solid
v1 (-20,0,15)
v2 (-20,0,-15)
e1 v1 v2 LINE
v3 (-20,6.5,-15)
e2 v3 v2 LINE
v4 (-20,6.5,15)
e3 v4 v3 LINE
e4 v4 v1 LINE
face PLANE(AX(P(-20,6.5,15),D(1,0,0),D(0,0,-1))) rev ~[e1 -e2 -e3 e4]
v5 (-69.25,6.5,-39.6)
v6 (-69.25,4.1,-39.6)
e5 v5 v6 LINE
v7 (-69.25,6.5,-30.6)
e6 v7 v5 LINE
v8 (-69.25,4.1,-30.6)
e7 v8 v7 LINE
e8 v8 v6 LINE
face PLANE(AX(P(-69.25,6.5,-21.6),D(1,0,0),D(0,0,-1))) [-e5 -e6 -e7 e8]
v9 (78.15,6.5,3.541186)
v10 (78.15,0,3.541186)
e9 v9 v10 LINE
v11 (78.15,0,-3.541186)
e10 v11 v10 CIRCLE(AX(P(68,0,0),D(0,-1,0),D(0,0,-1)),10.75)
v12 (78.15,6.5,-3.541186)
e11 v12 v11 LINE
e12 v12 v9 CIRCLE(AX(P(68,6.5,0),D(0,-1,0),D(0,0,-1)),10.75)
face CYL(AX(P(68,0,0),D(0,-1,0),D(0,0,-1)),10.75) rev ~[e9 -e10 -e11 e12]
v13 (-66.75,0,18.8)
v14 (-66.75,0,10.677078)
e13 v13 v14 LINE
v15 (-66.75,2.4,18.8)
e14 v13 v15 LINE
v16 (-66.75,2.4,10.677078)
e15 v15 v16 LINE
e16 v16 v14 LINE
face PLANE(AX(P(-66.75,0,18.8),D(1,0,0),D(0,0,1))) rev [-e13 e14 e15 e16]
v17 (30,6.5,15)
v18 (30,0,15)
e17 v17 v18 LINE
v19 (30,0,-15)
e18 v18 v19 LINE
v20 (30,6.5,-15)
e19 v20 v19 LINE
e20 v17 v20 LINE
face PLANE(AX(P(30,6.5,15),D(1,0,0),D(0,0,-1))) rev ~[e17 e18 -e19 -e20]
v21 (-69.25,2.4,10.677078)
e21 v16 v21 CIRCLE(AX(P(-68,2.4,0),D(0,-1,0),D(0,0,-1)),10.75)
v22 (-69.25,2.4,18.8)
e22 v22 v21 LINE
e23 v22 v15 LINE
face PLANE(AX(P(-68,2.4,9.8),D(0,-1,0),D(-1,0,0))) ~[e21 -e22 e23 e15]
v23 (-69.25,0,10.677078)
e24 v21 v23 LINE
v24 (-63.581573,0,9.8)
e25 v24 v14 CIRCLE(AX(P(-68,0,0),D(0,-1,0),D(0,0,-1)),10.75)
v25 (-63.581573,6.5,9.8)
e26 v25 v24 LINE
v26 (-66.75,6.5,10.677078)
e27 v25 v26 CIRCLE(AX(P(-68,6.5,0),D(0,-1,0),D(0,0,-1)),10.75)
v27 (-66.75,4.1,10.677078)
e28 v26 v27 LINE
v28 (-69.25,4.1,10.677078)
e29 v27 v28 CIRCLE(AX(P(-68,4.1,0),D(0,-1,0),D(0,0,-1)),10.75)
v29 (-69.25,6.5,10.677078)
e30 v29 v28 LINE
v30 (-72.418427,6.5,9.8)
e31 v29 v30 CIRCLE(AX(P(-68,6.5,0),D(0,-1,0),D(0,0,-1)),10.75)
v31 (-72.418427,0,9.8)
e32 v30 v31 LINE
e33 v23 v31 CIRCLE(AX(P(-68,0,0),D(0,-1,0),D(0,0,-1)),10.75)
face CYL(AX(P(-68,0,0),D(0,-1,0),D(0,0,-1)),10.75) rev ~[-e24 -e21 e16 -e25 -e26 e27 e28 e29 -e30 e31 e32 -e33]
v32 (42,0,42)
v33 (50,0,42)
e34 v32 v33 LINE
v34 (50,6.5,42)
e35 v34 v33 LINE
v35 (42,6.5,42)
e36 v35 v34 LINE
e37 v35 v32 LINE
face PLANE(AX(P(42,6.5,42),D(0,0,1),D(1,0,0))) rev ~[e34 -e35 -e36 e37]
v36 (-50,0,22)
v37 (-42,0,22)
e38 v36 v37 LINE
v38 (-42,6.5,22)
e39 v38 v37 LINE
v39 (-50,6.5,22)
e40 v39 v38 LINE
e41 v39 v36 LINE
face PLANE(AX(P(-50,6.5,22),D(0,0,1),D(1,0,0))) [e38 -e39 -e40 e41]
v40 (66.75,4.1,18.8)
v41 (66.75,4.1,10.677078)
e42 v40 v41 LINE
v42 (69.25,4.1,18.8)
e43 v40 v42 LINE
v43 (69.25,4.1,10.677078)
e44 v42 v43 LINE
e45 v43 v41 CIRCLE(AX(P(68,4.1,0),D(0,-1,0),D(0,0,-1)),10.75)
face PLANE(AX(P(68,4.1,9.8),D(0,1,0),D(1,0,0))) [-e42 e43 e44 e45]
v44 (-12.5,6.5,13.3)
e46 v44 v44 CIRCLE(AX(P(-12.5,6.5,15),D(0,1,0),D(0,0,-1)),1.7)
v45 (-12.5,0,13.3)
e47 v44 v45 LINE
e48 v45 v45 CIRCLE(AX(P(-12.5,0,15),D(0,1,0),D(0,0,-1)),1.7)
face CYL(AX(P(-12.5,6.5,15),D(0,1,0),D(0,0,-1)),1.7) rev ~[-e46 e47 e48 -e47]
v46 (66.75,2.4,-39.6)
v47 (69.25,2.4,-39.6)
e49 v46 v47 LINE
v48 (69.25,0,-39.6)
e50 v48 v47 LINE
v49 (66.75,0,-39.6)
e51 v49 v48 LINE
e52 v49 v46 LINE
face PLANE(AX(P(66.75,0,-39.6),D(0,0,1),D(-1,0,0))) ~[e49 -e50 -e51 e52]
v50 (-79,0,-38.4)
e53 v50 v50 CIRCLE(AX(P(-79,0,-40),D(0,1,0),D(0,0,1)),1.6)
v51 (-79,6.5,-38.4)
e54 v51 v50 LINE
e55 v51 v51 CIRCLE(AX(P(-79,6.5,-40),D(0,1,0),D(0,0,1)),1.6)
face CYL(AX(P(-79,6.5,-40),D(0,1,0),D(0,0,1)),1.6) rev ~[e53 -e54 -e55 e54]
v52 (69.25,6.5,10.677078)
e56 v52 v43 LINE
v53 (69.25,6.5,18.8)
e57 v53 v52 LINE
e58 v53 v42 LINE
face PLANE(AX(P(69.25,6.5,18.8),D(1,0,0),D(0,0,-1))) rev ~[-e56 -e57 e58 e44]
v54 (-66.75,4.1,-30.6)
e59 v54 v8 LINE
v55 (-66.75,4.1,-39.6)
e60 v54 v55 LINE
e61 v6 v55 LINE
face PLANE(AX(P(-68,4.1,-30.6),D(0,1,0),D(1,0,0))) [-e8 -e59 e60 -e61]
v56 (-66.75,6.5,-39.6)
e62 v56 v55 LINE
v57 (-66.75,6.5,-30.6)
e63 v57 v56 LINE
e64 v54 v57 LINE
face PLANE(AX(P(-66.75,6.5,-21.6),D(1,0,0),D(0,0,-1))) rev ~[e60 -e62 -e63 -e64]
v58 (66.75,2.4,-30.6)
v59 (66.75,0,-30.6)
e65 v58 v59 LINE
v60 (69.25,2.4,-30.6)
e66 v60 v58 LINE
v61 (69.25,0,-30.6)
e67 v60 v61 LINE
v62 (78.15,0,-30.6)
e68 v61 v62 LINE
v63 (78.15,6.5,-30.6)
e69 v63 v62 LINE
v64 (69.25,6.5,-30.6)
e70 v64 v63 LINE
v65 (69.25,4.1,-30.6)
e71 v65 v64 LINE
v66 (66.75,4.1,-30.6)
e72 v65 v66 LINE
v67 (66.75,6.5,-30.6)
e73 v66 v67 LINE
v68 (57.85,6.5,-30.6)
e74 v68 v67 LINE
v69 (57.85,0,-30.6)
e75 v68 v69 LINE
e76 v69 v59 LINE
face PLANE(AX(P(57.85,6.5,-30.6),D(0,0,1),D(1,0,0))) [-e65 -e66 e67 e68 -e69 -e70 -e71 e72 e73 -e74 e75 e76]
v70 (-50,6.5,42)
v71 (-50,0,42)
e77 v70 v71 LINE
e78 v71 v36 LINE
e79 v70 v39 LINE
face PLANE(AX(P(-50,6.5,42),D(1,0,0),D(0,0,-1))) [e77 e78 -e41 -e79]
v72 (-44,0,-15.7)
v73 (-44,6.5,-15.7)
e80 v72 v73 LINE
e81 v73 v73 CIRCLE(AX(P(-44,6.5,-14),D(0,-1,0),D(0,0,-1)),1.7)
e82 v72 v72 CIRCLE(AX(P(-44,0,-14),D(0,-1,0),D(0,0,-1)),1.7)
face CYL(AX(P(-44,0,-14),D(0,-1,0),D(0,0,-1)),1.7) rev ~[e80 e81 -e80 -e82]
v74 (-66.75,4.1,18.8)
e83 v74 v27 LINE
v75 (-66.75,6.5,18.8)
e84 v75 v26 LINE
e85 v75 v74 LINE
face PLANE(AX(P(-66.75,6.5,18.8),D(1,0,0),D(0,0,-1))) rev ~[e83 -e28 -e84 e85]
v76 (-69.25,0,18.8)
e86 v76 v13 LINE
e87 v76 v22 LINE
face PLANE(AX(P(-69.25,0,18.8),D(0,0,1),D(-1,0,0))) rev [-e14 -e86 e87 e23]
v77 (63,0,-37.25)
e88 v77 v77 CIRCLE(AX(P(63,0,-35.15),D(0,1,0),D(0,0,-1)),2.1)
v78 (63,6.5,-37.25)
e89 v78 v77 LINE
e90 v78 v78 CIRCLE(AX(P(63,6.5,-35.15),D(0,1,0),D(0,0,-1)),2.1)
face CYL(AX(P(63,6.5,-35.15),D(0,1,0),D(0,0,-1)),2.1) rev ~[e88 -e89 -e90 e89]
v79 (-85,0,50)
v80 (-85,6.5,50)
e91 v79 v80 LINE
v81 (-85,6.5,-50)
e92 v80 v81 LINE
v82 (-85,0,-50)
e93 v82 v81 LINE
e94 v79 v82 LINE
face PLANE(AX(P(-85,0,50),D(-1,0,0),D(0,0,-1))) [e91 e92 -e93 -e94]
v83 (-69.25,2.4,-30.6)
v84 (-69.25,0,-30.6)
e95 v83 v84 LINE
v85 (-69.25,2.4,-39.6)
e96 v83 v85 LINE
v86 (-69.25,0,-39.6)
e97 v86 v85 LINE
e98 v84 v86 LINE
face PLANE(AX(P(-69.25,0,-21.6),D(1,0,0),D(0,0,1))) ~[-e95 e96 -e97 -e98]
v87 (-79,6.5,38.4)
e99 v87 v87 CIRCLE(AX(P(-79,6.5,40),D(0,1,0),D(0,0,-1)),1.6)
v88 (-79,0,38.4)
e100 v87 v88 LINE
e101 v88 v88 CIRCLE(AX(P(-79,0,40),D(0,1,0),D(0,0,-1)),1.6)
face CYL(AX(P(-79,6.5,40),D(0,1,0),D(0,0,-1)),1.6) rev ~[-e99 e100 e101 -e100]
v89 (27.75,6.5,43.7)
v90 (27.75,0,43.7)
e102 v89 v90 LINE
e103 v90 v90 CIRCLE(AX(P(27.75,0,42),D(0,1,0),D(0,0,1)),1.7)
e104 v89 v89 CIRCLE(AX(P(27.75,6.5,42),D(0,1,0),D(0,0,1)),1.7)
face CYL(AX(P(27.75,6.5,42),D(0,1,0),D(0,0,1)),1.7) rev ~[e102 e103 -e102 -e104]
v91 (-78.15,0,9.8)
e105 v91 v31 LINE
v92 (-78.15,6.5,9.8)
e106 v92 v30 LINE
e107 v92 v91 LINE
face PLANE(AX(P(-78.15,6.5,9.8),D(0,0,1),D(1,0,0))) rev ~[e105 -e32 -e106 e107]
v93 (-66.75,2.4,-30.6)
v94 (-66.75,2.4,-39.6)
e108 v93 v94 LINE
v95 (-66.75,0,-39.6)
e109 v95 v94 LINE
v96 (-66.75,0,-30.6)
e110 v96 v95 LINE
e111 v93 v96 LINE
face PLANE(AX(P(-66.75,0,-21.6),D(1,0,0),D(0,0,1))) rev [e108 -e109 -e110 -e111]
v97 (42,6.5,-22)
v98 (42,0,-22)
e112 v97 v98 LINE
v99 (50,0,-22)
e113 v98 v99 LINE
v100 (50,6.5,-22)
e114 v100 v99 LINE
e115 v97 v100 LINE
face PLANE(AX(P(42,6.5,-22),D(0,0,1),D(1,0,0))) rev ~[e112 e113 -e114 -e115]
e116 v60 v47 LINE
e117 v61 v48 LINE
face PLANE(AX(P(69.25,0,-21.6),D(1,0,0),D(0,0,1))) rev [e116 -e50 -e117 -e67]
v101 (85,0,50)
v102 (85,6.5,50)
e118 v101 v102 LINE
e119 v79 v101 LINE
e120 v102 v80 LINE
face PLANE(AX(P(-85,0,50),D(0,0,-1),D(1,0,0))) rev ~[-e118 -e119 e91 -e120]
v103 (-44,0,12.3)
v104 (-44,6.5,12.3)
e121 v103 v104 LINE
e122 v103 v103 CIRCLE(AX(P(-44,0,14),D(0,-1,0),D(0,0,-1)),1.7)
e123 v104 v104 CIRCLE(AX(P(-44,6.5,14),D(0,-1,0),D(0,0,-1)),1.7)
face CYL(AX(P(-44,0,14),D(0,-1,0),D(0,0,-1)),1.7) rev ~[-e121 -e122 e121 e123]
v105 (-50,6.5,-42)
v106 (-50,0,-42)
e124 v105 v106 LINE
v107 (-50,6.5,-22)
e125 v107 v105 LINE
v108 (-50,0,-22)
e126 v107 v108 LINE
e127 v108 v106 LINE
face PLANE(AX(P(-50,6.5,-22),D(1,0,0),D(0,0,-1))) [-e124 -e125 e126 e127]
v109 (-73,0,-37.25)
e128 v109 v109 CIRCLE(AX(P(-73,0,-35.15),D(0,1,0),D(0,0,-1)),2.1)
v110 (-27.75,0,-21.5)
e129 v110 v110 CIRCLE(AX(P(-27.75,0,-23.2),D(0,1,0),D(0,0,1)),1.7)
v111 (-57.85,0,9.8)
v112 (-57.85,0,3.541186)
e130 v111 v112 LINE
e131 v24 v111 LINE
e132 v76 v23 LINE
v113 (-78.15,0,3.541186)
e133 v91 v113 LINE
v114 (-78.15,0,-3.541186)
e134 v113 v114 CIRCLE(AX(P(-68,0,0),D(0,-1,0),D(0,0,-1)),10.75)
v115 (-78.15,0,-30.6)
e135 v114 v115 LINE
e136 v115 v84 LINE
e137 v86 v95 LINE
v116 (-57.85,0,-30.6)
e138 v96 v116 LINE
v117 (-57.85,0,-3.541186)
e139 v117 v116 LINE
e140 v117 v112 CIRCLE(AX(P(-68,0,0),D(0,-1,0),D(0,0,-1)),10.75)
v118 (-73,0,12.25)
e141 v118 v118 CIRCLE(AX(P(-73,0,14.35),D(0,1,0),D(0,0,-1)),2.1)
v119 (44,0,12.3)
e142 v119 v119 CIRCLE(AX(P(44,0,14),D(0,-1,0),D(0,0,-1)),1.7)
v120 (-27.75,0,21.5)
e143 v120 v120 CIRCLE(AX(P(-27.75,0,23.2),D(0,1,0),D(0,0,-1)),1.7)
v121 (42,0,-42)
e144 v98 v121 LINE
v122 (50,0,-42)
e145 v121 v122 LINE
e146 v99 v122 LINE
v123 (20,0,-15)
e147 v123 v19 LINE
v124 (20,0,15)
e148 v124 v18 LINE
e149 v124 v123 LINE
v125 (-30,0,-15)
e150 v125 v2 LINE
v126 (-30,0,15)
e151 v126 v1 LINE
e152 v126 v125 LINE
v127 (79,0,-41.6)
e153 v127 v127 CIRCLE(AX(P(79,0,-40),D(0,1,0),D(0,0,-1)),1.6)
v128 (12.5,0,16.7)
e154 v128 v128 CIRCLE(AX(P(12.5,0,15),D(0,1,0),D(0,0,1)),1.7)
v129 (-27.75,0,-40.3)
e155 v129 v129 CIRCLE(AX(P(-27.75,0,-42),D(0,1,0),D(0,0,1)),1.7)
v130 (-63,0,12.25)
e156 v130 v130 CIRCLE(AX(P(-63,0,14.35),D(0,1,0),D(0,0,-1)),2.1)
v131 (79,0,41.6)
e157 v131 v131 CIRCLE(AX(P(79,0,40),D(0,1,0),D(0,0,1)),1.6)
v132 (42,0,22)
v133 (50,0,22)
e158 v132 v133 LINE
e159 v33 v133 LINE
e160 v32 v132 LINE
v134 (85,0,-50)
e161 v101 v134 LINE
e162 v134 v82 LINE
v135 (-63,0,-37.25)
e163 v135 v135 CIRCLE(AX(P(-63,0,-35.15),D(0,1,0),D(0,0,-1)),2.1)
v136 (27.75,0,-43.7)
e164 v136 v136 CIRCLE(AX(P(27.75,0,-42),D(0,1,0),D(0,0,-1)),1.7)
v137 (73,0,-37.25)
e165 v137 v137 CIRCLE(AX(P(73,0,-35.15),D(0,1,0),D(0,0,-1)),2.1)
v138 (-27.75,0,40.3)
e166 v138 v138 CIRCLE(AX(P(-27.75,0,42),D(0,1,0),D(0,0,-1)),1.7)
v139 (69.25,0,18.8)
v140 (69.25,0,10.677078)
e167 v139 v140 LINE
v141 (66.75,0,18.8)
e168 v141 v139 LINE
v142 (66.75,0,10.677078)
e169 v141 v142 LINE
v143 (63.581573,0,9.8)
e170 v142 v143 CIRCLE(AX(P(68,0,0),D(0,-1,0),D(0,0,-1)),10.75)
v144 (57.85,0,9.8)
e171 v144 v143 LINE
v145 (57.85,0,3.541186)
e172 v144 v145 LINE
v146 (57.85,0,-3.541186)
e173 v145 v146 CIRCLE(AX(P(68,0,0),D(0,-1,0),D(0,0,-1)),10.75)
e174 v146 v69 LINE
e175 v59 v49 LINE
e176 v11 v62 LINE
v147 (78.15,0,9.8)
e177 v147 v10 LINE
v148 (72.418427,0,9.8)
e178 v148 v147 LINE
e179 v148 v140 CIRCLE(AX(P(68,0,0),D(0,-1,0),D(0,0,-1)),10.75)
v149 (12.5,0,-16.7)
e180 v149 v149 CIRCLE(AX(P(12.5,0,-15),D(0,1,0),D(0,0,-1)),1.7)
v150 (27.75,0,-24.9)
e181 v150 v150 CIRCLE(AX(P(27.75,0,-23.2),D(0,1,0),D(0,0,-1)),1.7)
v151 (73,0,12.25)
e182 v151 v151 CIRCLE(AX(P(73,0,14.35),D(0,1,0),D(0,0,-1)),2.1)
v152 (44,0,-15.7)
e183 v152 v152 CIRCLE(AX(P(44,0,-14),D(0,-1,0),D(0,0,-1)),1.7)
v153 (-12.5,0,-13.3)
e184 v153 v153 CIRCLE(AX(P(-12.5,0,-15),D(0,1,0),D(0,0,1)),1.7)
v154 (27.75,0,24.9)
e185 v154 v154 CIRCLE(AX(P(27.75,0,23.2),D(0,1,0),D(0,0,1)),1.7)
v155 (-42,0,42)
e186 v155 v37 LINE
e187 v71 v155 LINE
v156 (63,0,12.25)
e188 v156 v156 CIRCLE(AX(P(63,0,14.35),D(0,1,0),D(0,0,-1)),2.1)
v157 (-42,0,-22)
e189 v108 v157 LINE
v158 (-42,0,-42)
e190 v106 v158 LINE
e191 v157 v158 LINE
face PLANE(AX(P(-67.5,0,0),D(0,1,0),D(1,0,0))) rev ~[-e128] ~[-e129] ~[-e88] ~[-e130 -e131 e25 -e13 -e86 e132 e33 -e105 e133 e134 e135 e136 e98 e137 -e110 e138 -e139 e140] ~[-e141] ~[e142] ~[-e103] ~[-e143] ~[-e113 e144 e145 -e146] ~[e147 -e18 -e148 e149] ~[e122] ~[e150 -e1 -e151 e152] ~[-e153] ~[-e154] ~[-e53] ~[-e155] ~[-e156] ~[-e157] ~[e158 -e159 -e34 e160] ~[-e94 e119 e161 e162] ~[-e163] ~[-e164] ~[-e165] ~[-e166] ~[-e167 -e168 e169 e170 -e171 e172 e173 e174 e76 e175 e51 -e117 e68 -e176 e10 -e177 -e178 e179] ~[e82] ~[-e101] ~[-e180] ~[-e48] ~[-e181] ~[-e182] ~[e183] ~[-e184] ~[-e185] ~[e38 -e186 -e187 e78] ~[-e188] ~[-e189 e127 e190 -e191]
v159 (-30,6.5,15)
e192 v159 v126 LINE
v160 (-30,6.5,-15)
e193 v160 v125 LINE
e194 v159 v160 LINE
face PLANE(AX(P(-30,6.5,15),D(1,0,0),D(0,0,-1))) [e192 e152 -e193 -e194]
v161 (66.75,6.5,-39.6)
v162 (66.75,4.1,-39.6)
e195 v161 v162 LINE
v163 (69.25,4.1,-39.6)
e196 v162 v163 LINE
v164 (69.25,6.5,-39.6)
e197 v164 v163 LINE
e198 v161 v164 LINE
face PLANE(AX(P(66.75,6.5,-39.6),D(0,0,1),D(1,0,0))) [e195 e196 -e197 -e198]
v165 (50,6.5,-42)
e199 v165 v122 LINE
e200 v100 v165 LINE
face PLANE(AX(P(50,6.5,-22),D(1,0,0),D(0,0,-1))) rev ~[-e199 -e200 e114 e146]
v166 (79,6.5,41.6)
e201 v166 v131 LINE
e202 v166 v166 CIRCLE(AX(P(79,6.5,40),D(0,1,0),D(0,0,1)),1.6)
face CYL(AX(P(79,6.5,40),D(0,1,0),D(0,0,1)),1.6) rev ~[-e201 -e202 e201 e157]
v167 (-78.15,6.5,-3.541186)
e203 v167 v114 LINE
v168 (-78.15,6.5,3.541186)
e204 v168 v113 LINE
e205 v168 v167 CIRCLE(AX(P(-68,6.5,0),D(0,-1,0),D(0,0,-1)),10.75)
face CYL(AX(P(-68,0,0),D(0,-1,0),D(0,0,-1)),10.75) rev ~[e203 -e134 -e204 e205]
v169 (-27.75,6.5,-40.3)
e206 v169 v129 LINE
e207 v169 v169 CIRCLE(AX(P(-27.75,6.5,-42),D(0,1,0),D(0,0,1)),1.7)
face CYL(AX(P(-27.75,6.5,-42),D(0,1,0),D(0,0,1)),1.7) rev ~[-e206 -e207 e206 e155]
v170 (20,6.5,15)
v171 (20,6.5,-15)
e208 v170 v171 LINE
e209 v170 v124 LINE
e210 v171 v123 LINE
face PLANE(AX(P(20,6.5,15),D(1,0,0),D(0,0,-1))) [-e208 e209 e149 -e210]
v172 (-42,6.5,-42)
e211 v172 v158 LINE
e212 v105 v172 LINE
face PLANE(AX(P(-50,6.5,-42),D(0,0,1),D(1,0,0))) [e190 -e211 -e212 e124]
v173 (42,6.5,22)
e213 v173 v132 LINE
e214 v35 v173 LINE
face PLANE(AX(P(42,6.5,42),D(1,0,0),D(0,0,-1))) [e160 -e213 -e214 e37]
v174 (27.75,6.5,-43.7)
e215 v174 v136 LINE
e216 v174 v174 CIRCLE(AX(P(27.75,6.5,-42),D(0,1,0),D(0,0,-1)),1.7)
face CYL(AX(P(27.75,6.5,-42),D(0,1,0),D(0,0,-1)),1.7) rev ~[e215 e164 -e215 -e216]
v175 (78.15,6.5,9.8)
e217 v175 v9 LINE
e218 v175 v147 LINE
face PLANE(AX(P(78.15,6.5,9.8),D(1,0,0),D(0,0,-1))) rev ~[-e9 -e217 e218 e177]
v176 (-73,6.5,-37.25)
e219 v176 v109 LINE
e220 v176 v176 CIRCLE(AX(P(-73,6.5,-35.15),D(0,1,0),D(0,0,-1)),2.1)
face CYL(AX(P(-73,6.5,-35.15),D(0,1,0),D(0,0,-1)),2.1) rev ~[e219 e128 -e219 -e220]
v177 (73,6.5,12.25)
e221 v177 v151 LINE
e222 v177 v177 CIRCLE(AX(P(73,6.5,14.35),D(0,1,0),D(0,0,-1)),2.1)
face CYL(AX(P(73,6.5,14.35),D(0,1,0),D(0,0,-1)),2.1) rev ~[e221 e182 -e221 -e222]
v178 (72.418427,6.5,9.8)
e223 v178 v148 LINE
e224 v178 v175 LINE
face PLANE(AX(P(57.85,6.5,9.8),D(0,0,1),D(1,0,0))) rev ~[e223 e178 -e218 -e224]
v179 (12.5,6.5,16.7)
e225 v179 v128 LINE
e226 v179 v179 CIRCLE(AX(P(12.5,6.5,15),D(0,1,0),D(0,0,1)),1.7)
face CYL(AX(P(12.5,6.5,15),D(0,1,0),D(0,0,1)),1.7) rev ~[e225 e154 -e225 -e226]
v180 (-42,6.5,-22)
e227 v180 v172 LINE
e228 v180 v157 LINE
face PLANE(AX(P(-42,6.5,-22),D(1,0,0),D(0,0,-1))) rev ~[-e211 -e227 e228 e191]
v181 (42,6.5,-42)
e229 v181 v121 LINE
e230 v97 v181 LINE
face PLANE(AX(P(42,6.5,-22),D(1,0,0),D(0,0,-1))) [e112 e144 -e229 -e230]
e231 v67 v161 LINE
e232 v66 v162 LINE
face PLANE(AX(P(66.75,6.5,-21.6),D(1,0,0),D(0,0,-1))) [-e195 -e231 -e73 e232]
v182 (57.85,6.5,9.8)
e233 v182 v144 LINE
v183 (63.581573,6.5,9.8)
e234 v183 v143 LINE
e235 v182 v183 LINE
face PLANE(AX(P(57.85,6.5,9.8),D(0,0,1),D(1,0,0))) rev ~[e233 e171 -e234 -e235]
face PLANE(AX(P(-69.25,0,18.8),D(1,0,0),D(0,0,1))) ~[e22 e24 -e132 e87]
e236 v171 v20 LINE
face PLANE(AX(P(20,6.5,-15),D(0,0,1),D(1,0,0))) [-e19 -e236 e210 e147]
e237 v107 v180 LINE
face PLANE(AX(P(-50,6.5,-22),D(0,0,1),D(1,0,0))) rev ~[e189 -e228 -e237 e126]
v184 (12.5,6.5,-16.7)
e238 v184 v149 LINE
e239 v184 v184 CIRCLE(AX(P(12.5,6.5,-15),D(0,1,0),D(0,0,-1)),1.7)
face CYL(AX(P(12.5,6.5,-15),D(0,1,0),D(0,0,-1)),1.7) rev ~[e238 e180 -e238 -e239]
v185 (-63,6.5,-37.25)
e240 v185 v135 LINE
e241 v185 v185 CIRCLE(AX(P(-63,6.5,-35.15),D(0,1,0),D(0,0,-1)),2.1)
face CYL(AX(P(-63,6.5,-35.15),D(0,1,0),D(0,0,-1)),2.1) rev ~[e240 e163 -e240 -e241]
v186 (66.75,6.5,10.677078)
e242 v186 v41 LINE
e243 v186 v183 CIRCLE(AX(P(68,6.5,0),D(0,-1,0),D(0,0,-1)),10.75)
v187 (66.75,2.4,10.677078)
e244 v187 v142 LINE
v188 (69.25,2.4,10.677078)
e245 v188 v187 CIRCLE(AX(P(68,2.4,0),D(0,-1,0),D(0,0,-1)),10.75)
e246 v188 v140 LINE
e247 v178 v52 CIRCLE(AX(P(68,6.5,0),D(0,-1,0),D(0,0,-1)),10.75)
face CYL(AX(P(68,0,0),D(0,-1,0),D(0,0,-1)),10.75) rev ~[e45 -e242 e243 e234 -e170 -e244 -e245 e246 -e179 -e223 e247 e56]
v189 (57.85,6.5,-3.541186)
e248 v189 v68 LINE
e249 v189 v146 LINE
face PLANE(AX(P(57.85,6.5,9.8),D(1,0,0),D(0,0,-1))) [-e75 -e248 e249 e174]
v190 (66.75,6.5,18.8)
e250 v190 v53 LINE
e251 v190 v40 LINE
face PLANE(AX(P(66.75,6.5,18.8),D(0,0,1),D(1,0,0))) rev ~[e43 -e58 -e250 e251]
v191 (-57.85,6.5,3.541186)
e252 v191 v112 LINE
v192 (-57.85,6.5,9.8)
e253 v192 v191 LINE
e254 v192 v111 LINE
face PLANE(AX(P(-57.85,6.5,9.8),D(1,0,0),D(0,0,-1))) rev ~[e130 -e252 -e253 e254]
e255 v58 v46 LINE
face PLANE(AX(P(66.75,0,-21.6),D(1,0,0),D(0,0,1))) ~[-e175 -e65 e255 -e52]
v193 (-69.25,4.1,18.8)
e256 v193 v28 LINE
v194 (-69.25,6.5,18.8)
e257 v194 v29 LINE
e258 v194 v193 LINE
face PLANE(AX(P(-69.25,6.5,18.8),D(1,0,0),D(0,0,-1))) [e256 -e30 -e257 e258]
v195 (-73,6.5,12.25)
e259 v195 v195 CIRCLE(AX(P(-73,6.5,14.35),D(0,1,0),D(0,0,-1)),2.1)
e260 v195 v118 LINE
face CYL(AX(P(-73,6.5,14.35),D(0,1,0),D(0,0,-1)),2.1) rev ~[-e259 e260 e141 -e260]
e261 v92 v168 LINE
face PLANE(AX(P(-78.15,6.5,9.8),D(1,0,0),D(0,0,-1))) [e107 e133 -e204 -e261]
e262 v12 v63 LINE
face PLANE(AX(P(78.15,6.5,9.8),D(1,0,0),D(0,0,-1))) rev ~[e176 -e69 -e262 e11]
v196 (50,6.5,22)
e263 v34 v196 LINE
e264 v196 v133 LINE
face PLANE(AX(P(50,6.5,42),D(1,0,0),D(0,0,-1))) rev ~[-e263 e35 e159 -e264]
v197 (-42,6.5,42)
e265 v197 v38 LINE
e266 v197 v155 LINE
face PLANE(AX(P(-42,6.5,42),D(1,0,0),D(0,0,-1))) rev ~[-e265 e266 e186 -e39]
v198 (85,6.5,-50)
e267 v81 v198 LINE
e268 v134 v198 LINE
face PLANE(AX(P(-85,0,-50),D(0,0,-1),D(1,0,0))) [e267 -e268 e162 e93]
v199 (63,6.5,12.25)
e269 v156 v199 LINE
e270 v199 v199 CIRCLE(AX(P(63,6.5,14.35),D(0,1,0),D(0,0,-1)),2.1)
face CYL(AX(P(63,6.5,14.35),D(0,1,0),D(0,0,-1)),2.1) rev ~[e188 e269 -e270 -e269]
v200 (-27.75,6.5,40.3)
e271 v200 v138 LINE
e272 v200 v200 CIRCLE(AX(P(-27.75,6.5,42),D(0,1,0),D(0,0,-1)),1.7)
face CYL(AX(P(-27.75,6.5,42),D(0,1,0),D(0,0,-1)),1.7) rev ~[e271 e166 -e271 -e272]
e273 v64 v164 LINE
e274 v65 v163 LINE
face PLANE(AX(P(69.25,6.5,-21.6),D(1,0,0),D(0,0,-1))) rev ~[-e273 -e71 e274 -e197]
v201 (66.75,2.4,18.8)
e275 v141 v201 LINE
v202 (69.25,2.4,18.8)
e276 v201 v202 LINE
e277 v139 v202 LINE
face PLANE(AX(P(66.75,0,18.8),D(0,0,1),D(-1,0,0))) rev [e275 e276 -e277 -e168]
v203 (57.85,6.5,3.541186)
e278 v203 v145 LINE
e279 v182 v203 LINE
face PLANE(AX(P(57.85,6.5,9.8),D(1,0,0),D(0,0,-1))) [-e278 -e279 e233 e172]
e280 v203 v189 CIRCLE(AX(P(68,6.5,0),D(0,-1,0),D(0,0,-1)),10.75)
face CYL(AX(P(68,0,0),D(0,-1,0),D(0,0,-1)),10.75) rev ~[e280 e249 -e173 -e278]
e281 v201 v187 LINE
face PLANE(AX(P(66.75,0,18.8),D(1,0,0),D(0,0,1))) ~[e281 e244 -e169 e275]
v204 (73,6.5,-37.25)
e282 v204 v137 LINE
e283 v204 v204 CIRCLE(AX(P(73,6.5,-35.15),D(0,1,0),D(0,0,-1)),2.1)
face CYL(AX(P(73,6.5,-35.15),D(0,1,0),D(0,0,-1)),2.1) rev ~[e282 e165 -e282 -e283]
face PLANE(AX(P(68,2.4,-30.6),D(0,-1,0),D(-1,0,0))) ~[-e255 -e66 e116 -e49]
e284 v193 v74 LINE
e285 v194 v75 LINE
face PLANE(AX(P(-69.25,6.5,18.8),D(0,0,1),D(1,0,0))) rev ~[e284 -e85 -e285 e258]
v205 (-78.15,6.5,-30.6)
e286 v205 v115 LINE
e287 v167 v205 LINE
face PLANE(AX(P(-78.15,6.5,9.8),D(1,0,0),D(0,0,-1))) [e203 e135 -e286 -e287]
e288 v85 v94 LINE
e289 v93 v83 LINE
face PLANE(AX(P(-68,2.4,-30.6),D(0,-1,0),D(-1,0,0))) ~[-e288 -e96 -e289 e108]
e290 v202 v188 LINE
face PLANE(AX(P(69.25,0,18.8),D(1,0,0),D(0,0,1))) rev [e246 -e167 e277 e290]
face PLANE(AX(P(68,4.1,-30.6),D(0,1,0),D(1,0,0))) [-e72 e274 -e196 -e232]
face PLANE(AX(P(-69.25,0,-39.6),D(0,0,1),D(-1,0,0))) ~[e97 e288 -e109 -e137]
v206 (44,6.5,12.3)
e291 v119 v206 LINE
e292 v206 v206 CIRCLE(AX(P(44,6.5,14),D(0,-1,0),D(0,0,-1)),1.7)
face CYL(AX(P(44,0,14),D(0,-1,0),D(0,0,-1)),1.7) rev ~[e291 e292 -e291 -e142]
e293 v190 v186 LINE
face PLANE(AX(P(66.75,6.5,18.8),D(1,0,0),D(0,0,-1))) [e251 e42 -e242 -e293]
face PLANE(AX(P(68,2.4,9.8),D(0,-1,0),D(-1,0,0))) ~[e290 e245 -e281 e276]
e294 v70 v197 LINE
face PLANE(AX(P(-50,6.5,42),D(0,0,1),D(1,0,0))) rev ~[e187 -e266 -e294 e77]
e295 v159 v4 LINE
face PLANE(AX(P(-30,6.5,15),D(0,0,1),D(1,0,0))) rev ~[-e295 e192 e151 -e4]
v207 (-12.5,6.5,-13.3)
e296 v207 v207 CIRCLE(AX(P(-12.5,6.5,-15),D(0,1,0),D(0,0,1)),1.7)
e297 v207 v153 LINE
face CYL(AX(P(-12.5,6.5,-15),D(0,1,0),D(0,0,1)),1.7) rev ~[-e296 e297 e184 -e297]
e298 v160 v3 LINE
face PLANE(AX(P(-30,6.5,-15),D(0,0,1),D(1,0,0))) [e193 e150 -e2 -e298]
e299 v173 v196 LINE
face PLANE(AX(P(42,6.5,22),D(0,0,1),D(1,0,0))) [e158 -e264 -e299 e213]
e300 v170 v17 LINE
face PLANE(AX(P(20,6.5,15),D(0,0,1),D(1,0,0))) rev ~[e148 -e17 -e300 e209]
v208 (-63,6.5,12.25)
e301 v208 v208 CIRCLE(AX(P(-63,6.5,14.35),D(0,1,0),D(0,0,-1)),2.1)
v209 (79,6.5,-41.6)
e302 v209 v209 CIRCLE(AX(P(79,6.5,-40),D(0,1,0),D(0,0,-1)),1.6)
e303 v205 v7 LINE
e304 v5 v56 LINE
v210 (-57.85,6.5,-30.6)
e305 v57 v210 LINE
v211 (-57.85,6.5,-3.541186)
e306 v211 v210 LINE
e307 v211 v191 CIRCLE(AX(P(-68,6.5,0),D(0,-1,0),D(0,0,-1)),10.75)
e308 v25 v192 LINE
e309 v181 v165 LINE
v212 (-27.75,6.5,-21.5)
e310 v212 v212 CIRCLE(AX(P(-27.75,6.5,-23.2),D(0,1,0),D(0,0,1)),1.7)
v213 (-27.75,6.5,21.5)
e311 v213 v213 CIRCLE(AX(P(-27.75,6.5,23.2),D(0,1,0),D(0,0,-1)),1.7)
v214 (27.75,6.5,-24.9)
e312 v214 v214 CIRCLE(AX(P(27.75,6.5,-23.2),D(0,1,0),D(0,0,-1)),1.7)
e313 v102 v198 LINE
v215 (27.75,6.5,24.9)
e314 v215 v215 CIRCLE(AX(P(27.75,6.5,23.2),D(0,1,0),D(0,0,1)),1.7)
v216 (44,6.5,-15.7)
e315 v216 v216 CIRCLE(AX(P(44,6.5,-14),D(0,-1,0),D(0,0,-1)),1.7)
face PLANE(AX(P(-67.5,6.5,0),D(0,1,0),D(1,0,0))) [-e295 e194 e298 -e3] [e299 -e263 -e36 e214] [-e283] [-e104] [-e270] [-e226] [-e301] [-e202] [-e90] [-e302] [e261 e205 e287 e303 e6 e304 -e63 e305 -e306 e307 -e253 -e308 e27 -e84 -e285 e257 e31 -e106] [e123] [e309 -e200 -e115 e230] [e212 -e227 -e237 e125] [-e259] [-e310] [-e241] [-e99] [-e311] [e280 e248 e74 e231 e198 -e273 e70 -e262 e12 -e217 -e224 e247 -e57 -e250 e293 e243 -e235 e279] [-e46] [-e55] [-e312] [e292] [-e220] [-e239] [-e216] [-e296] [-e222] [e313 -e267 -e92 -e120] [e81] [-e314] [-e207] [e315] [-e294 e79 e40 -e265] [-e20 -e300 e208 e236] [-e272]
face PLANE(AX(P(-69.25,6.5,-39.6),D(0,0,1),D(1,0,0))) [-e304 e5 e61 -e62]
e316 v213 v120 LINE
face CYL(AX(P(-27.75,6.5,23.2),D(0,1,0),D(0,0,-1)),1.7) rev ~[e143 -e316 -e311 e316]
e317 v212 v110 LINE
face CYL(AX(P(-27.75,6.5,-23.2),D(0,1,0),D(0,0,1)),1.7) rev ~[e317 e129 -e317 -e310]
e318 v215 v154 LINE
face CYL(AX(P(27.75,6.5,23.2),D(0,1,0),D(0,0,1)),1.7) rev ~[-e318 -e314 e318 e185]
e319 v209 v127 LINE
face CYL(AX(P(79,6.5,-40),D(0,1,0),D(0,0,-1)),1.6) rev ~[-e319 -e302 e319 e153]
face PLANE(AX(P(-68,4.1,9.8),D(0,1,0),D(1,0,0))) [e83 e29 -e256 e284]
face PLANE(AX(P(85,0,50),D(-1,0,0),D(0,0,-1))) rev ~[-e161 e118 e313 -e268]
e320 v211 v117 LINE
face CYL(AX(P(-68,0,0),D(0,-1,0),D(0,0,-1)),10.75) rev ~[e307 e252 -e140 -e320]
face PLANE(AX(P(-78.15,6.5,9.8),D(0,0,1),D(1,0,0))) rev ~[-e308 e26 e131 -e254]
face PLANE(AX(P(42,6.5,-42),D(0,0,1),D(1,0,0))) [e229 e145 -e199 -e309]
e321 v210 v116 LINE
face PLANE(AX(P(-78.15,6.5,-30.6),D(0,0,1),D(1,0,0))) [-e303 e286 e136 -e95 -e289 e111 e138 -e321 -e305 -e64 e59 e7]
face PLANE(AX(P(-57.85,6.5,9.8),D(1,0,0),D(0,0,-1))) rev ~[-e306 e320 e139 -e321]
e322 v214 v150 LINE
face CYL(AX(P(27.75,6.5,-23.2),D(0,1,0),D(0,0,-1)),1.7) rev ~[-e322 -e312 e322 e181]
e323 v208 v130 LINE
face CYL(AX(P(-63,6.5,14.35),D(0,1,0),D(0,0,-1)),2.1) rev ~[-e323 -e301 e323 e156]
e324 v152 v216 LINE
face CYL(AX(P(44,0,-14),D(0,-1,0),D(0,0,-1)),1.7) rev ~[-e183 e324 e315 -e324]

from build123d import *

# Parameters (mm, degrees)
SKETCH_1_W           = 100
SKETCH_1_H           = 100
EXTRUDE_1_DEPTH      = 6.5
SKETCH_2_W           = 5
SKETCH_2_H           = 100
EXTRUDE_2_DEPTH      = 75
SKETCH_3_R           = 2.25
CUT_EXTRUDE_1_DEPTH  = 85
SKETCH_4_W           = 40
SKETCH_4_H           = 41.42
CUT_EXTRUDE_2_DEPTH  = 85
CHAMFER_1_SIZE       = 10
SKETCH_5_W           = 10
SKETCH_5_H           = 30
CUT_EXTRUDE_3_DEPTH  = 85
SKETCH_11_R          = 1.7
CUT_EXTRUDE_5_DEPTH  = 10
SKETCH_12_R          = 1.7
CUT_EXTRUDE_6_DEPTH  = 25
SKETCH_13_R          = 2.3
SKETCH_13_R_2        = 15
CUT_EXTRUDE_9_DEPTH  = 105
SKETCH_14_W          = 15
SKETCH_14_H          = 41.42
CUT_EXTRUDE_10_DEPTH = 83
SKETCH_15_W          = 38.97610678
SKETCH_15_H          = 41.42
CUT_EXTRUDE_11_DEPTH = 83
SKETCH_16_R          = 1.7
CUT_EXTRUDE_12_DEPTH = 83
SKETCH_17_R          = 2.15
CUT_EXTRUDE_13_DEPTH = 83
CHAMFER_2_SIZE       = 8
SKETCH_18_W          = 143.568344584
SKETCH_18_H          = 92.865991502
CUT_EXTRUDE_14_DEPTH = 55
SKETCH_19_W          = 35
SKETCH_19_H          = 100
EXTRUDE_3_DEPTH      = 6.5
SKETCH_21_R          = 10.75
CUT_EXTRUDE_16_DEPTH = 10
SKETCH_20_R          = 2.1
CUT_EXTRUDE_15_DEPTH = 7.5
SKETCH_23_W          = 20.3
SKETCH_23_H          = 40.4
CUT_EXTRUDE_17_DEPTH = 20
SKETCH_24_W          = 2.5
SKETCH_24_H          = 18
CUT_EXTRUDE_18_DEPTH = 2.4
SKETCH_25_R          = 1.6
CUT_EXTRUDE_19_DEPTH = 10
SKETCH_26_W          = 8
SKETCH_26_H          = 20
CUT_EXTRUDE_20_DEPTH = 23


with BuildPart() as part:
    # 草图1 → 凸台-拉伸1 (new body)
    with BuildSketch(Plane(origin=(0, 0, 0), x_dir=(1, 0, 0), z_dir=(0, 1, 0))):
        Rectangle(SKETCH_1_W, SKETCH_1_H)
    extrude(amount=EXTRUDE_1_DEPTH)

    # 草图2 → 凸台-拉伸2 (add)
    with BuildSketch(Plane.XZ):
        with Locations((-34.5, 0)):
            Rectangle(SKETCH_2_W, SKETCH_2_H)
        with Locations((34.5, 0)):
            Rectangle(SKETCH_2_W, SKETCH_2_H)
    extrude(amount=EXTRUDE_2_DEPTH)

    # 草图3 → 切除-拉伸1 (cut)
    with BuildSketch(Plane.ZY.offset(37)):
        with Locations((-4.925, -12)):
            Circle(SKETCH_3_R)
        with Locations((4.925, -12)):
            Circle(SKETCH_3_R)
        with Locations((-4.925, -61.42)):
            Circle(SKETCH_3_R)
        with Locations((4.925, -61.42)):
            Circle(SKETCH_3_R)
        with Locations((14.773492699, -12.172312361)):
            Circle(SKETCH_3_R)
        with Locations((14.773492699, -61.247687639)):
            Circle(SKETCH_3_R)
        with Locations((-14.773492699, -61.247687639)):
            Circle(SKETCH_3_R)
        with Locations((-14.773492699, -12.172312361)):
            Circle(SKETCH_3_R)
    extrude(amount=-CUT_EXTRUDE_1_DEPTH, mode=Mode.SUBTRACT)

    # 草图4 → 切除-拉伸2 (cut)
    with BuildSketch(Plane.ZY.offset(37)):
        with Locations((0, -36.71)):
            Rectangle(SKETCH_4_W, SKETCH_4_H)
    extrude(amount=-CUT_EXTRUDE_2_DEPTH, mode=Mode.SUBTRACT)

    # 倒角1
    chamfer_1_edges = [part.edges().sort_by_distance(p)[0] for p in [
        (-34.5, -75, 50),
        (-34.5, -75, -50),
        (34.5, -75, 50),
        (34.5, -75, -50),
    ]]
    chamfer(chamfer_1_edges, length=CHAMFER_1_SIZE)

    # 草图5 → 切除-拉伸3 (cut)
    with BuildSketch(Plane(origin=(0, 6.5, 0), x_dir=(1, 0, 0), z_dir=(0, 1, 0))):
        with Locations((-25, 0)):
            Rectangle(SKETCH_5_W, SKETCH_5_H)
        with Locations((25, 0)):
            Rectangle(SKETCH_5_W, SKETCH_5_H)
    extrude(amount=-CUT_EXTRUDE_3_DEPTH, mode=Mode.SUBTRACT)

    # 草图11 → 切除-拉伸5 (cut)
    with BuildSketch(Plane.XZ):
        with Locations(Location((-44, 38, 0), (0, 0, 270))):
            Circle(SKETCH_11_R)
        with Locations(Location((-44, 26, 0), (0, 0, 270))):
            Circle(SKETCH_11_R)
        with Locations(Location((-44, 14, 0), (0, 0, 270))):
            Circle(SKETCH_11_R)
        with Locations(Location((44, 14, 0), (0, 0, 270))):
            Circle(SKETCH_11_R)
        with Locations(Location((44, 26, 0), (0, 0, 270))):
            Circle(SKETCH_11_R)
        with Locations(Location((44, 38, 0), (0, 0, 270))):
            Circle(SKETCH_11_R)
        with Locations(Location((44, -38, 0), (0, 0, 270))):
            Circle(SKETCH_11_R)
        with Locations(Location((44, -26, 0), (0, 0, 270))):
            Circle(SKETCH_11_R)
        with Locations(Location((44, -14, 0), (0, 0, 270))):
            Circle(SKETCH_11_R)
        with Locations(Location((-44, -14, 0), (0, 0, 270))):
            Circle(SKETCH_11_R)
        with Locations(Location((-44, -26, 0), (0, 0, 270))):
            Circle(SKETCH_11_R)
        with Locations(Location((-44, -38, 0), (0, 0, 270))):
            Circle(SKETCH_11_R)
    extrude(amount=-CUT_EXTRUDE_5_DEPTH, mode=Mode.SUBTRACT)

    # 草图12 → 切除-拉伸6 (cut)
    with BuildSketch(Plane(origin=(0, 6.5, 0), x_dir=(1, 0, 0), z_dir=(0, 1, 0))):
        with Locations(Location((-27.75, 42, 0), (0, 0, 270))):
            Circle(SKETCH_12_R)
        with Locations(Location((-27.75, 23.2, 0), (0, 0, 270))):
            Circle(SKETCH_12_R)
        with Locations(Location((27.75, 23.2, 0), (0, 0, 90))):
            Circle(SKETCH_12_R)
        with Locations(Location((27.75, 42, 0), (0, 0, 90))):
            Circle(SKETCH_12_R)
        with Locations(Location((27.75, -42, 0), (0, 0, 270))):
            Circle(SKETCH_12_R)
        with Locations(Location((27.75, -23.2, 0), (0, 0, 270))):
            Circle(SKETCH_12_R)
        with Locations(Location((-27.75, -23.2, 0), (0, 0, 90))):
            Circle(SKETCH_12_R)
        with Locations(Location((-27.75, -42, 0), (0, 0, 90))):
            Circle(SKETCH_12_R)
    extrude(amount=-CUT_EXTRUDE_6_DEPTH, mode=Mode.SUBTRACT)

    # 草图13 → 切除-拉伸9 (cut)
    with BuildSketch(Plane.ZY.offset(37)):
        with Locations((46, -16)):
            Circle(SKETCH_13_R)
        with Locations((46, -51)):
            Circle(SKETCH_13_R)
        with Locations((46, -33.5)):
            Circle(SKETCH_13_R_2)
    extrude(amount=-CUT_EXTRUDE_9_DEPTH, mode=Mode.SUBTRACT)

    # 草图14 → 切除-拉伸10 (cut)
    with BuildSketch(Plane.ZY.offset(37)):
        with Locations((-27.5, -36.71)):
            Rectangle(SKETCH_14_W, SKETCH_14_H)
    extrude(amount=-CUT_EXTRUDE_10_DEPTH, mode=Mode.SUBTRACT)

    # 草图15 → 切除-拉伸11 (cut)
    with BuildSketch(Plane.ZY.offset(37)):
        with Locations((-35, -36.71)):
            Rectangle(SKETCH_15_W, SKETCH_15_H)
    extrude(amount=-CUT_EXTRUDE_11_DEPTH, mode=Mode.SUBTRACT)

    # 草图16 → 切除-拉伸12 (cut)
    with BuildSketch(Plane(origin=(0, 6.5, 0), x_dir=(1, 0, 0), z_dir=(0, 1, 0))):
        with Locations(Location((-12.5, 15, 0), (0, 0, 270))):
            Circle(SKETCH_16_R)
        with Locations(Location((12.5, 15, 0), (0, 0, 90))):
            Circle(SKETCH_16_R)
        with Locations(Location((12.5, -15, 0), (0, 0, 270))):
            Circle(SKETCH_16_R)
        with Locations(Location((-12.5, -15, 0), (0, 0, 90))):
            Circle(SKETCH_16_R)
    extrude(amount=-CUT_EXTRUDE_12_DEPTH, mode=Mode.SUBTRACT)

    # 草图17 → 切除-拉伸13 (cut)
    with BuildSketch(Plane.ZY.offset(37)):
        with Locations((-24.623492699, -12.172312361)):
            Circle(SKETCH_17_R)
        with Locations((-24.625, -61.42)):
            Circle(SKETCH_17_R)
        with Locations((-39.622497813, -11.999553542)):
            Circle(SKETCH_17_R)
        with Locations((-39.622497813, -61.420446458)):
            Circle(SKETCH_17_R)
    extrude(amount=-CUT_EXTRUDE_13_DEPTH, mode=Mode.SUBTRACT)

    # 倒角2
    chamfer_2_edges = [part.edges().sort_by_distance(p)[0] for p in [
        (34.5, -16, -50),
        (-34.5, -16, -50),
    ]]
    chamfer(chamfer_2_edges, length=CHAMFER_2_SIZE)

    # 草图18 → 切除-拉伸14 (cut, symmetric)
    with BuildSketch(Plane(origin=(0, 0, 0), x_dir=(0, 0, -1), z_dir=(1, 0, 0))):
        with Locations((21.784172292, -46.432995751)):
            Rectangle(SKETCH_18_W, SKETCH_18_H)
    extrude(amount=CUT_EXTRUDE_14_DEPTH, both=True, mode=Mode.SUBTRACT)

    # 草图19 → 凸台-拉伸3 (add)
    with BuildSketch(Plane(origin=(0, 0, 0), x_dir=(1, 0, 0), z_dir=(0, 1, 0))):
        with Locations((-67.5, 0)):
            Rectangle(SKETCH_19_W, SKETCH_19_H)
        with Locations((67.5, 0)):
            Rectangle(SKETCH_19_W, SKETCH_19_H)
    extrude(amount=EXTRUDE_3_DEPTH)

    # 草图21 → 切除-拉伸16 (cut)
    with BuildSketch(Plane.XZ):
        with Locations(Location((-68, 0, 0), (0, 0, 270))):
            Circle(SKETCH_21_R)
        with Locations(Location((68, 0, 0), (0, 0, 270))):
            Circle(SKETCH_21_R)
    extrude(amount=-CUT_EXTRUDE_16_DEPTH, mode=Mode.SUBTRACT)

    # 草图20 → 切除-拉伸15 (cut, symmetric)
    with BuildSketch(Plane(origin=(0, 6.5, 0), x_dir=(1, 0, 0), z_dir=(0, 1, 0))):
        with Locations(Location((-63, -14.35, 0), (0, 0, 90))):
            Circle(SKETCH_20_R)
        with Locations(Location((-73, -14.35, 0), (0, 0, 90))):
            Circle(SKETCH_20_R)
        with Locations(Location((-73, 35.15, 0), (0, 0, 90))):
            Circle(SKETCH_20_R)
        with Locations(Location((-63, 35.15, 0), (0, 0, 90))):
            Circle(SKETCH_20_R)
        with Locations(Location((63, 35.15, 0), (0, 0, 90))):
            Circle(SKETCH_20_R)
        with Locations(Location((73, 35.15, 0), (0, 0, 90))):
            Circle(SKETCH_20_R)
        with Locations(Location((73, -14.35, 0), (0, 0, 90))):
            Circle(SKETCH_20_R)
        with Locations(Location((63, -14.35, 0), (0, 0, 90))):
            Circle(SKETCH_20_R)
    extrude(amount=CUT_EXTRUDE_15_DEPTH, both=True, mode=Mode.SUBTRACT)

    # 草图23 → 切除-拉伸17 (cut)
    with BuildSketch(Plane(origin=(0, 6.5, 0), x_dir=(1, 0, 0), z_dir=(0, 1, 0))):
        with Locations((-68, 10.4)):
            Rectangle(SKETCH_23_W, SKETCH_23_H)
        with Locations((68, 10.4)):
            Rectangle(SKETCH_23_W, SKETCH_23_H)
    extrude(amount=-CUT_EXTRUDE_17_DEPTH, mode=Mode.SUBTRACT)

    # 草图24 → 切除-拉伸18 (cut)
    with BuildSketch(Plane(origin=(0, 6.5, 0), x_dir=(1, 0, 0), z_dir=(0, 1, 0))):
        with Locations((-68, 30.6)):
            Rectangle(SKETCH_24_W, SKETCH_24_H)
        with Locations((68, 30.6)):
            Rectangle(SKETCH_24_W, SKETCH_24_H)
        with Locations((68, -9.8)):
            Rectangle(SKETCH_24_W, SKETCH_24_H)
        with Locations((-68, -9.8)):
            Rectangle(SKETCH_24_W, SKETCH_24_H)
    cut_extrude_18 = extrude(amount=-CUT_EXTRUDE_18_DEPTH, mode=Mode.SUBTRACT)

    # 草图25 → 切除-拉伸19 (cut)
    with BuildSketch(Plane(origin=(0, 6.5, 0), x_dir=(1, 0, 0), z_dir=(0, 1, 0))):
        with Locations(Location((-79, 40, 0), (0, 0, 270))):
            Circle(SKETCH_25_R)
        with Locations((-87.320502943, 27.519245585)):
            Circle(SKETCH_25_R)
        with Locations((87.320502943, 27.519245585)):
            Circle(SKETCH_25_R)
        with Locations(Location((79, 40, 0), (0, 0, 90))):
            Circle(SKETCH_25_R)
        with Locations(Location((79, -40, 0), (0, 0, 270))):
            Circle(SKETCH_25_R)
        with Locations((87.320502943, -27.519245585)):
            Circle(SKETCH_25_R)
        with Locations((-87.320502943, -27.519245585)):
            Circle(SKETCH_25_R)
        with Locations(Location((-79, -40, 0), (0, 0, 90))):
            Circle(SKETCH_25_R)
    extrude(amount=-CUT_EXTRUDE_19_DEPTH, mode=Mode.SUBTRACT)

    # 草图26 → 切除-拉伸20 (cut)
    with BuildSketch(Plane(origin=(0, 6.5, 0), x_dir=(1, 0, 0), z_dir=(0, 1, 0))):
        with Locations((-46, -32)):
            Rectangle(SKETCH_26_W, SKETCH_26_H)
        with Locations((46, -32)):
            Rectangle(SKETCH_26_W, SKETCH_26_H)
        with Locations((46, 32)):
            Rectangle(SKETCH_26_W, SKETCH_26_H)
        with Locations((-46, 32)):
            Rectangle(SKETCH_26_W, SKETCH_26_H)
    extrude(amount=-CUT_EXTRUDE_20_DEPTH, mode=Mode.SUBTRACT)

    # 镜向1: 切除-拉伸18 across plane
    add(cut_extrude_18.mirror(Plane.ZX.offset(3.25)), mode=Mode.SUBTRACT)


solid = part.part
